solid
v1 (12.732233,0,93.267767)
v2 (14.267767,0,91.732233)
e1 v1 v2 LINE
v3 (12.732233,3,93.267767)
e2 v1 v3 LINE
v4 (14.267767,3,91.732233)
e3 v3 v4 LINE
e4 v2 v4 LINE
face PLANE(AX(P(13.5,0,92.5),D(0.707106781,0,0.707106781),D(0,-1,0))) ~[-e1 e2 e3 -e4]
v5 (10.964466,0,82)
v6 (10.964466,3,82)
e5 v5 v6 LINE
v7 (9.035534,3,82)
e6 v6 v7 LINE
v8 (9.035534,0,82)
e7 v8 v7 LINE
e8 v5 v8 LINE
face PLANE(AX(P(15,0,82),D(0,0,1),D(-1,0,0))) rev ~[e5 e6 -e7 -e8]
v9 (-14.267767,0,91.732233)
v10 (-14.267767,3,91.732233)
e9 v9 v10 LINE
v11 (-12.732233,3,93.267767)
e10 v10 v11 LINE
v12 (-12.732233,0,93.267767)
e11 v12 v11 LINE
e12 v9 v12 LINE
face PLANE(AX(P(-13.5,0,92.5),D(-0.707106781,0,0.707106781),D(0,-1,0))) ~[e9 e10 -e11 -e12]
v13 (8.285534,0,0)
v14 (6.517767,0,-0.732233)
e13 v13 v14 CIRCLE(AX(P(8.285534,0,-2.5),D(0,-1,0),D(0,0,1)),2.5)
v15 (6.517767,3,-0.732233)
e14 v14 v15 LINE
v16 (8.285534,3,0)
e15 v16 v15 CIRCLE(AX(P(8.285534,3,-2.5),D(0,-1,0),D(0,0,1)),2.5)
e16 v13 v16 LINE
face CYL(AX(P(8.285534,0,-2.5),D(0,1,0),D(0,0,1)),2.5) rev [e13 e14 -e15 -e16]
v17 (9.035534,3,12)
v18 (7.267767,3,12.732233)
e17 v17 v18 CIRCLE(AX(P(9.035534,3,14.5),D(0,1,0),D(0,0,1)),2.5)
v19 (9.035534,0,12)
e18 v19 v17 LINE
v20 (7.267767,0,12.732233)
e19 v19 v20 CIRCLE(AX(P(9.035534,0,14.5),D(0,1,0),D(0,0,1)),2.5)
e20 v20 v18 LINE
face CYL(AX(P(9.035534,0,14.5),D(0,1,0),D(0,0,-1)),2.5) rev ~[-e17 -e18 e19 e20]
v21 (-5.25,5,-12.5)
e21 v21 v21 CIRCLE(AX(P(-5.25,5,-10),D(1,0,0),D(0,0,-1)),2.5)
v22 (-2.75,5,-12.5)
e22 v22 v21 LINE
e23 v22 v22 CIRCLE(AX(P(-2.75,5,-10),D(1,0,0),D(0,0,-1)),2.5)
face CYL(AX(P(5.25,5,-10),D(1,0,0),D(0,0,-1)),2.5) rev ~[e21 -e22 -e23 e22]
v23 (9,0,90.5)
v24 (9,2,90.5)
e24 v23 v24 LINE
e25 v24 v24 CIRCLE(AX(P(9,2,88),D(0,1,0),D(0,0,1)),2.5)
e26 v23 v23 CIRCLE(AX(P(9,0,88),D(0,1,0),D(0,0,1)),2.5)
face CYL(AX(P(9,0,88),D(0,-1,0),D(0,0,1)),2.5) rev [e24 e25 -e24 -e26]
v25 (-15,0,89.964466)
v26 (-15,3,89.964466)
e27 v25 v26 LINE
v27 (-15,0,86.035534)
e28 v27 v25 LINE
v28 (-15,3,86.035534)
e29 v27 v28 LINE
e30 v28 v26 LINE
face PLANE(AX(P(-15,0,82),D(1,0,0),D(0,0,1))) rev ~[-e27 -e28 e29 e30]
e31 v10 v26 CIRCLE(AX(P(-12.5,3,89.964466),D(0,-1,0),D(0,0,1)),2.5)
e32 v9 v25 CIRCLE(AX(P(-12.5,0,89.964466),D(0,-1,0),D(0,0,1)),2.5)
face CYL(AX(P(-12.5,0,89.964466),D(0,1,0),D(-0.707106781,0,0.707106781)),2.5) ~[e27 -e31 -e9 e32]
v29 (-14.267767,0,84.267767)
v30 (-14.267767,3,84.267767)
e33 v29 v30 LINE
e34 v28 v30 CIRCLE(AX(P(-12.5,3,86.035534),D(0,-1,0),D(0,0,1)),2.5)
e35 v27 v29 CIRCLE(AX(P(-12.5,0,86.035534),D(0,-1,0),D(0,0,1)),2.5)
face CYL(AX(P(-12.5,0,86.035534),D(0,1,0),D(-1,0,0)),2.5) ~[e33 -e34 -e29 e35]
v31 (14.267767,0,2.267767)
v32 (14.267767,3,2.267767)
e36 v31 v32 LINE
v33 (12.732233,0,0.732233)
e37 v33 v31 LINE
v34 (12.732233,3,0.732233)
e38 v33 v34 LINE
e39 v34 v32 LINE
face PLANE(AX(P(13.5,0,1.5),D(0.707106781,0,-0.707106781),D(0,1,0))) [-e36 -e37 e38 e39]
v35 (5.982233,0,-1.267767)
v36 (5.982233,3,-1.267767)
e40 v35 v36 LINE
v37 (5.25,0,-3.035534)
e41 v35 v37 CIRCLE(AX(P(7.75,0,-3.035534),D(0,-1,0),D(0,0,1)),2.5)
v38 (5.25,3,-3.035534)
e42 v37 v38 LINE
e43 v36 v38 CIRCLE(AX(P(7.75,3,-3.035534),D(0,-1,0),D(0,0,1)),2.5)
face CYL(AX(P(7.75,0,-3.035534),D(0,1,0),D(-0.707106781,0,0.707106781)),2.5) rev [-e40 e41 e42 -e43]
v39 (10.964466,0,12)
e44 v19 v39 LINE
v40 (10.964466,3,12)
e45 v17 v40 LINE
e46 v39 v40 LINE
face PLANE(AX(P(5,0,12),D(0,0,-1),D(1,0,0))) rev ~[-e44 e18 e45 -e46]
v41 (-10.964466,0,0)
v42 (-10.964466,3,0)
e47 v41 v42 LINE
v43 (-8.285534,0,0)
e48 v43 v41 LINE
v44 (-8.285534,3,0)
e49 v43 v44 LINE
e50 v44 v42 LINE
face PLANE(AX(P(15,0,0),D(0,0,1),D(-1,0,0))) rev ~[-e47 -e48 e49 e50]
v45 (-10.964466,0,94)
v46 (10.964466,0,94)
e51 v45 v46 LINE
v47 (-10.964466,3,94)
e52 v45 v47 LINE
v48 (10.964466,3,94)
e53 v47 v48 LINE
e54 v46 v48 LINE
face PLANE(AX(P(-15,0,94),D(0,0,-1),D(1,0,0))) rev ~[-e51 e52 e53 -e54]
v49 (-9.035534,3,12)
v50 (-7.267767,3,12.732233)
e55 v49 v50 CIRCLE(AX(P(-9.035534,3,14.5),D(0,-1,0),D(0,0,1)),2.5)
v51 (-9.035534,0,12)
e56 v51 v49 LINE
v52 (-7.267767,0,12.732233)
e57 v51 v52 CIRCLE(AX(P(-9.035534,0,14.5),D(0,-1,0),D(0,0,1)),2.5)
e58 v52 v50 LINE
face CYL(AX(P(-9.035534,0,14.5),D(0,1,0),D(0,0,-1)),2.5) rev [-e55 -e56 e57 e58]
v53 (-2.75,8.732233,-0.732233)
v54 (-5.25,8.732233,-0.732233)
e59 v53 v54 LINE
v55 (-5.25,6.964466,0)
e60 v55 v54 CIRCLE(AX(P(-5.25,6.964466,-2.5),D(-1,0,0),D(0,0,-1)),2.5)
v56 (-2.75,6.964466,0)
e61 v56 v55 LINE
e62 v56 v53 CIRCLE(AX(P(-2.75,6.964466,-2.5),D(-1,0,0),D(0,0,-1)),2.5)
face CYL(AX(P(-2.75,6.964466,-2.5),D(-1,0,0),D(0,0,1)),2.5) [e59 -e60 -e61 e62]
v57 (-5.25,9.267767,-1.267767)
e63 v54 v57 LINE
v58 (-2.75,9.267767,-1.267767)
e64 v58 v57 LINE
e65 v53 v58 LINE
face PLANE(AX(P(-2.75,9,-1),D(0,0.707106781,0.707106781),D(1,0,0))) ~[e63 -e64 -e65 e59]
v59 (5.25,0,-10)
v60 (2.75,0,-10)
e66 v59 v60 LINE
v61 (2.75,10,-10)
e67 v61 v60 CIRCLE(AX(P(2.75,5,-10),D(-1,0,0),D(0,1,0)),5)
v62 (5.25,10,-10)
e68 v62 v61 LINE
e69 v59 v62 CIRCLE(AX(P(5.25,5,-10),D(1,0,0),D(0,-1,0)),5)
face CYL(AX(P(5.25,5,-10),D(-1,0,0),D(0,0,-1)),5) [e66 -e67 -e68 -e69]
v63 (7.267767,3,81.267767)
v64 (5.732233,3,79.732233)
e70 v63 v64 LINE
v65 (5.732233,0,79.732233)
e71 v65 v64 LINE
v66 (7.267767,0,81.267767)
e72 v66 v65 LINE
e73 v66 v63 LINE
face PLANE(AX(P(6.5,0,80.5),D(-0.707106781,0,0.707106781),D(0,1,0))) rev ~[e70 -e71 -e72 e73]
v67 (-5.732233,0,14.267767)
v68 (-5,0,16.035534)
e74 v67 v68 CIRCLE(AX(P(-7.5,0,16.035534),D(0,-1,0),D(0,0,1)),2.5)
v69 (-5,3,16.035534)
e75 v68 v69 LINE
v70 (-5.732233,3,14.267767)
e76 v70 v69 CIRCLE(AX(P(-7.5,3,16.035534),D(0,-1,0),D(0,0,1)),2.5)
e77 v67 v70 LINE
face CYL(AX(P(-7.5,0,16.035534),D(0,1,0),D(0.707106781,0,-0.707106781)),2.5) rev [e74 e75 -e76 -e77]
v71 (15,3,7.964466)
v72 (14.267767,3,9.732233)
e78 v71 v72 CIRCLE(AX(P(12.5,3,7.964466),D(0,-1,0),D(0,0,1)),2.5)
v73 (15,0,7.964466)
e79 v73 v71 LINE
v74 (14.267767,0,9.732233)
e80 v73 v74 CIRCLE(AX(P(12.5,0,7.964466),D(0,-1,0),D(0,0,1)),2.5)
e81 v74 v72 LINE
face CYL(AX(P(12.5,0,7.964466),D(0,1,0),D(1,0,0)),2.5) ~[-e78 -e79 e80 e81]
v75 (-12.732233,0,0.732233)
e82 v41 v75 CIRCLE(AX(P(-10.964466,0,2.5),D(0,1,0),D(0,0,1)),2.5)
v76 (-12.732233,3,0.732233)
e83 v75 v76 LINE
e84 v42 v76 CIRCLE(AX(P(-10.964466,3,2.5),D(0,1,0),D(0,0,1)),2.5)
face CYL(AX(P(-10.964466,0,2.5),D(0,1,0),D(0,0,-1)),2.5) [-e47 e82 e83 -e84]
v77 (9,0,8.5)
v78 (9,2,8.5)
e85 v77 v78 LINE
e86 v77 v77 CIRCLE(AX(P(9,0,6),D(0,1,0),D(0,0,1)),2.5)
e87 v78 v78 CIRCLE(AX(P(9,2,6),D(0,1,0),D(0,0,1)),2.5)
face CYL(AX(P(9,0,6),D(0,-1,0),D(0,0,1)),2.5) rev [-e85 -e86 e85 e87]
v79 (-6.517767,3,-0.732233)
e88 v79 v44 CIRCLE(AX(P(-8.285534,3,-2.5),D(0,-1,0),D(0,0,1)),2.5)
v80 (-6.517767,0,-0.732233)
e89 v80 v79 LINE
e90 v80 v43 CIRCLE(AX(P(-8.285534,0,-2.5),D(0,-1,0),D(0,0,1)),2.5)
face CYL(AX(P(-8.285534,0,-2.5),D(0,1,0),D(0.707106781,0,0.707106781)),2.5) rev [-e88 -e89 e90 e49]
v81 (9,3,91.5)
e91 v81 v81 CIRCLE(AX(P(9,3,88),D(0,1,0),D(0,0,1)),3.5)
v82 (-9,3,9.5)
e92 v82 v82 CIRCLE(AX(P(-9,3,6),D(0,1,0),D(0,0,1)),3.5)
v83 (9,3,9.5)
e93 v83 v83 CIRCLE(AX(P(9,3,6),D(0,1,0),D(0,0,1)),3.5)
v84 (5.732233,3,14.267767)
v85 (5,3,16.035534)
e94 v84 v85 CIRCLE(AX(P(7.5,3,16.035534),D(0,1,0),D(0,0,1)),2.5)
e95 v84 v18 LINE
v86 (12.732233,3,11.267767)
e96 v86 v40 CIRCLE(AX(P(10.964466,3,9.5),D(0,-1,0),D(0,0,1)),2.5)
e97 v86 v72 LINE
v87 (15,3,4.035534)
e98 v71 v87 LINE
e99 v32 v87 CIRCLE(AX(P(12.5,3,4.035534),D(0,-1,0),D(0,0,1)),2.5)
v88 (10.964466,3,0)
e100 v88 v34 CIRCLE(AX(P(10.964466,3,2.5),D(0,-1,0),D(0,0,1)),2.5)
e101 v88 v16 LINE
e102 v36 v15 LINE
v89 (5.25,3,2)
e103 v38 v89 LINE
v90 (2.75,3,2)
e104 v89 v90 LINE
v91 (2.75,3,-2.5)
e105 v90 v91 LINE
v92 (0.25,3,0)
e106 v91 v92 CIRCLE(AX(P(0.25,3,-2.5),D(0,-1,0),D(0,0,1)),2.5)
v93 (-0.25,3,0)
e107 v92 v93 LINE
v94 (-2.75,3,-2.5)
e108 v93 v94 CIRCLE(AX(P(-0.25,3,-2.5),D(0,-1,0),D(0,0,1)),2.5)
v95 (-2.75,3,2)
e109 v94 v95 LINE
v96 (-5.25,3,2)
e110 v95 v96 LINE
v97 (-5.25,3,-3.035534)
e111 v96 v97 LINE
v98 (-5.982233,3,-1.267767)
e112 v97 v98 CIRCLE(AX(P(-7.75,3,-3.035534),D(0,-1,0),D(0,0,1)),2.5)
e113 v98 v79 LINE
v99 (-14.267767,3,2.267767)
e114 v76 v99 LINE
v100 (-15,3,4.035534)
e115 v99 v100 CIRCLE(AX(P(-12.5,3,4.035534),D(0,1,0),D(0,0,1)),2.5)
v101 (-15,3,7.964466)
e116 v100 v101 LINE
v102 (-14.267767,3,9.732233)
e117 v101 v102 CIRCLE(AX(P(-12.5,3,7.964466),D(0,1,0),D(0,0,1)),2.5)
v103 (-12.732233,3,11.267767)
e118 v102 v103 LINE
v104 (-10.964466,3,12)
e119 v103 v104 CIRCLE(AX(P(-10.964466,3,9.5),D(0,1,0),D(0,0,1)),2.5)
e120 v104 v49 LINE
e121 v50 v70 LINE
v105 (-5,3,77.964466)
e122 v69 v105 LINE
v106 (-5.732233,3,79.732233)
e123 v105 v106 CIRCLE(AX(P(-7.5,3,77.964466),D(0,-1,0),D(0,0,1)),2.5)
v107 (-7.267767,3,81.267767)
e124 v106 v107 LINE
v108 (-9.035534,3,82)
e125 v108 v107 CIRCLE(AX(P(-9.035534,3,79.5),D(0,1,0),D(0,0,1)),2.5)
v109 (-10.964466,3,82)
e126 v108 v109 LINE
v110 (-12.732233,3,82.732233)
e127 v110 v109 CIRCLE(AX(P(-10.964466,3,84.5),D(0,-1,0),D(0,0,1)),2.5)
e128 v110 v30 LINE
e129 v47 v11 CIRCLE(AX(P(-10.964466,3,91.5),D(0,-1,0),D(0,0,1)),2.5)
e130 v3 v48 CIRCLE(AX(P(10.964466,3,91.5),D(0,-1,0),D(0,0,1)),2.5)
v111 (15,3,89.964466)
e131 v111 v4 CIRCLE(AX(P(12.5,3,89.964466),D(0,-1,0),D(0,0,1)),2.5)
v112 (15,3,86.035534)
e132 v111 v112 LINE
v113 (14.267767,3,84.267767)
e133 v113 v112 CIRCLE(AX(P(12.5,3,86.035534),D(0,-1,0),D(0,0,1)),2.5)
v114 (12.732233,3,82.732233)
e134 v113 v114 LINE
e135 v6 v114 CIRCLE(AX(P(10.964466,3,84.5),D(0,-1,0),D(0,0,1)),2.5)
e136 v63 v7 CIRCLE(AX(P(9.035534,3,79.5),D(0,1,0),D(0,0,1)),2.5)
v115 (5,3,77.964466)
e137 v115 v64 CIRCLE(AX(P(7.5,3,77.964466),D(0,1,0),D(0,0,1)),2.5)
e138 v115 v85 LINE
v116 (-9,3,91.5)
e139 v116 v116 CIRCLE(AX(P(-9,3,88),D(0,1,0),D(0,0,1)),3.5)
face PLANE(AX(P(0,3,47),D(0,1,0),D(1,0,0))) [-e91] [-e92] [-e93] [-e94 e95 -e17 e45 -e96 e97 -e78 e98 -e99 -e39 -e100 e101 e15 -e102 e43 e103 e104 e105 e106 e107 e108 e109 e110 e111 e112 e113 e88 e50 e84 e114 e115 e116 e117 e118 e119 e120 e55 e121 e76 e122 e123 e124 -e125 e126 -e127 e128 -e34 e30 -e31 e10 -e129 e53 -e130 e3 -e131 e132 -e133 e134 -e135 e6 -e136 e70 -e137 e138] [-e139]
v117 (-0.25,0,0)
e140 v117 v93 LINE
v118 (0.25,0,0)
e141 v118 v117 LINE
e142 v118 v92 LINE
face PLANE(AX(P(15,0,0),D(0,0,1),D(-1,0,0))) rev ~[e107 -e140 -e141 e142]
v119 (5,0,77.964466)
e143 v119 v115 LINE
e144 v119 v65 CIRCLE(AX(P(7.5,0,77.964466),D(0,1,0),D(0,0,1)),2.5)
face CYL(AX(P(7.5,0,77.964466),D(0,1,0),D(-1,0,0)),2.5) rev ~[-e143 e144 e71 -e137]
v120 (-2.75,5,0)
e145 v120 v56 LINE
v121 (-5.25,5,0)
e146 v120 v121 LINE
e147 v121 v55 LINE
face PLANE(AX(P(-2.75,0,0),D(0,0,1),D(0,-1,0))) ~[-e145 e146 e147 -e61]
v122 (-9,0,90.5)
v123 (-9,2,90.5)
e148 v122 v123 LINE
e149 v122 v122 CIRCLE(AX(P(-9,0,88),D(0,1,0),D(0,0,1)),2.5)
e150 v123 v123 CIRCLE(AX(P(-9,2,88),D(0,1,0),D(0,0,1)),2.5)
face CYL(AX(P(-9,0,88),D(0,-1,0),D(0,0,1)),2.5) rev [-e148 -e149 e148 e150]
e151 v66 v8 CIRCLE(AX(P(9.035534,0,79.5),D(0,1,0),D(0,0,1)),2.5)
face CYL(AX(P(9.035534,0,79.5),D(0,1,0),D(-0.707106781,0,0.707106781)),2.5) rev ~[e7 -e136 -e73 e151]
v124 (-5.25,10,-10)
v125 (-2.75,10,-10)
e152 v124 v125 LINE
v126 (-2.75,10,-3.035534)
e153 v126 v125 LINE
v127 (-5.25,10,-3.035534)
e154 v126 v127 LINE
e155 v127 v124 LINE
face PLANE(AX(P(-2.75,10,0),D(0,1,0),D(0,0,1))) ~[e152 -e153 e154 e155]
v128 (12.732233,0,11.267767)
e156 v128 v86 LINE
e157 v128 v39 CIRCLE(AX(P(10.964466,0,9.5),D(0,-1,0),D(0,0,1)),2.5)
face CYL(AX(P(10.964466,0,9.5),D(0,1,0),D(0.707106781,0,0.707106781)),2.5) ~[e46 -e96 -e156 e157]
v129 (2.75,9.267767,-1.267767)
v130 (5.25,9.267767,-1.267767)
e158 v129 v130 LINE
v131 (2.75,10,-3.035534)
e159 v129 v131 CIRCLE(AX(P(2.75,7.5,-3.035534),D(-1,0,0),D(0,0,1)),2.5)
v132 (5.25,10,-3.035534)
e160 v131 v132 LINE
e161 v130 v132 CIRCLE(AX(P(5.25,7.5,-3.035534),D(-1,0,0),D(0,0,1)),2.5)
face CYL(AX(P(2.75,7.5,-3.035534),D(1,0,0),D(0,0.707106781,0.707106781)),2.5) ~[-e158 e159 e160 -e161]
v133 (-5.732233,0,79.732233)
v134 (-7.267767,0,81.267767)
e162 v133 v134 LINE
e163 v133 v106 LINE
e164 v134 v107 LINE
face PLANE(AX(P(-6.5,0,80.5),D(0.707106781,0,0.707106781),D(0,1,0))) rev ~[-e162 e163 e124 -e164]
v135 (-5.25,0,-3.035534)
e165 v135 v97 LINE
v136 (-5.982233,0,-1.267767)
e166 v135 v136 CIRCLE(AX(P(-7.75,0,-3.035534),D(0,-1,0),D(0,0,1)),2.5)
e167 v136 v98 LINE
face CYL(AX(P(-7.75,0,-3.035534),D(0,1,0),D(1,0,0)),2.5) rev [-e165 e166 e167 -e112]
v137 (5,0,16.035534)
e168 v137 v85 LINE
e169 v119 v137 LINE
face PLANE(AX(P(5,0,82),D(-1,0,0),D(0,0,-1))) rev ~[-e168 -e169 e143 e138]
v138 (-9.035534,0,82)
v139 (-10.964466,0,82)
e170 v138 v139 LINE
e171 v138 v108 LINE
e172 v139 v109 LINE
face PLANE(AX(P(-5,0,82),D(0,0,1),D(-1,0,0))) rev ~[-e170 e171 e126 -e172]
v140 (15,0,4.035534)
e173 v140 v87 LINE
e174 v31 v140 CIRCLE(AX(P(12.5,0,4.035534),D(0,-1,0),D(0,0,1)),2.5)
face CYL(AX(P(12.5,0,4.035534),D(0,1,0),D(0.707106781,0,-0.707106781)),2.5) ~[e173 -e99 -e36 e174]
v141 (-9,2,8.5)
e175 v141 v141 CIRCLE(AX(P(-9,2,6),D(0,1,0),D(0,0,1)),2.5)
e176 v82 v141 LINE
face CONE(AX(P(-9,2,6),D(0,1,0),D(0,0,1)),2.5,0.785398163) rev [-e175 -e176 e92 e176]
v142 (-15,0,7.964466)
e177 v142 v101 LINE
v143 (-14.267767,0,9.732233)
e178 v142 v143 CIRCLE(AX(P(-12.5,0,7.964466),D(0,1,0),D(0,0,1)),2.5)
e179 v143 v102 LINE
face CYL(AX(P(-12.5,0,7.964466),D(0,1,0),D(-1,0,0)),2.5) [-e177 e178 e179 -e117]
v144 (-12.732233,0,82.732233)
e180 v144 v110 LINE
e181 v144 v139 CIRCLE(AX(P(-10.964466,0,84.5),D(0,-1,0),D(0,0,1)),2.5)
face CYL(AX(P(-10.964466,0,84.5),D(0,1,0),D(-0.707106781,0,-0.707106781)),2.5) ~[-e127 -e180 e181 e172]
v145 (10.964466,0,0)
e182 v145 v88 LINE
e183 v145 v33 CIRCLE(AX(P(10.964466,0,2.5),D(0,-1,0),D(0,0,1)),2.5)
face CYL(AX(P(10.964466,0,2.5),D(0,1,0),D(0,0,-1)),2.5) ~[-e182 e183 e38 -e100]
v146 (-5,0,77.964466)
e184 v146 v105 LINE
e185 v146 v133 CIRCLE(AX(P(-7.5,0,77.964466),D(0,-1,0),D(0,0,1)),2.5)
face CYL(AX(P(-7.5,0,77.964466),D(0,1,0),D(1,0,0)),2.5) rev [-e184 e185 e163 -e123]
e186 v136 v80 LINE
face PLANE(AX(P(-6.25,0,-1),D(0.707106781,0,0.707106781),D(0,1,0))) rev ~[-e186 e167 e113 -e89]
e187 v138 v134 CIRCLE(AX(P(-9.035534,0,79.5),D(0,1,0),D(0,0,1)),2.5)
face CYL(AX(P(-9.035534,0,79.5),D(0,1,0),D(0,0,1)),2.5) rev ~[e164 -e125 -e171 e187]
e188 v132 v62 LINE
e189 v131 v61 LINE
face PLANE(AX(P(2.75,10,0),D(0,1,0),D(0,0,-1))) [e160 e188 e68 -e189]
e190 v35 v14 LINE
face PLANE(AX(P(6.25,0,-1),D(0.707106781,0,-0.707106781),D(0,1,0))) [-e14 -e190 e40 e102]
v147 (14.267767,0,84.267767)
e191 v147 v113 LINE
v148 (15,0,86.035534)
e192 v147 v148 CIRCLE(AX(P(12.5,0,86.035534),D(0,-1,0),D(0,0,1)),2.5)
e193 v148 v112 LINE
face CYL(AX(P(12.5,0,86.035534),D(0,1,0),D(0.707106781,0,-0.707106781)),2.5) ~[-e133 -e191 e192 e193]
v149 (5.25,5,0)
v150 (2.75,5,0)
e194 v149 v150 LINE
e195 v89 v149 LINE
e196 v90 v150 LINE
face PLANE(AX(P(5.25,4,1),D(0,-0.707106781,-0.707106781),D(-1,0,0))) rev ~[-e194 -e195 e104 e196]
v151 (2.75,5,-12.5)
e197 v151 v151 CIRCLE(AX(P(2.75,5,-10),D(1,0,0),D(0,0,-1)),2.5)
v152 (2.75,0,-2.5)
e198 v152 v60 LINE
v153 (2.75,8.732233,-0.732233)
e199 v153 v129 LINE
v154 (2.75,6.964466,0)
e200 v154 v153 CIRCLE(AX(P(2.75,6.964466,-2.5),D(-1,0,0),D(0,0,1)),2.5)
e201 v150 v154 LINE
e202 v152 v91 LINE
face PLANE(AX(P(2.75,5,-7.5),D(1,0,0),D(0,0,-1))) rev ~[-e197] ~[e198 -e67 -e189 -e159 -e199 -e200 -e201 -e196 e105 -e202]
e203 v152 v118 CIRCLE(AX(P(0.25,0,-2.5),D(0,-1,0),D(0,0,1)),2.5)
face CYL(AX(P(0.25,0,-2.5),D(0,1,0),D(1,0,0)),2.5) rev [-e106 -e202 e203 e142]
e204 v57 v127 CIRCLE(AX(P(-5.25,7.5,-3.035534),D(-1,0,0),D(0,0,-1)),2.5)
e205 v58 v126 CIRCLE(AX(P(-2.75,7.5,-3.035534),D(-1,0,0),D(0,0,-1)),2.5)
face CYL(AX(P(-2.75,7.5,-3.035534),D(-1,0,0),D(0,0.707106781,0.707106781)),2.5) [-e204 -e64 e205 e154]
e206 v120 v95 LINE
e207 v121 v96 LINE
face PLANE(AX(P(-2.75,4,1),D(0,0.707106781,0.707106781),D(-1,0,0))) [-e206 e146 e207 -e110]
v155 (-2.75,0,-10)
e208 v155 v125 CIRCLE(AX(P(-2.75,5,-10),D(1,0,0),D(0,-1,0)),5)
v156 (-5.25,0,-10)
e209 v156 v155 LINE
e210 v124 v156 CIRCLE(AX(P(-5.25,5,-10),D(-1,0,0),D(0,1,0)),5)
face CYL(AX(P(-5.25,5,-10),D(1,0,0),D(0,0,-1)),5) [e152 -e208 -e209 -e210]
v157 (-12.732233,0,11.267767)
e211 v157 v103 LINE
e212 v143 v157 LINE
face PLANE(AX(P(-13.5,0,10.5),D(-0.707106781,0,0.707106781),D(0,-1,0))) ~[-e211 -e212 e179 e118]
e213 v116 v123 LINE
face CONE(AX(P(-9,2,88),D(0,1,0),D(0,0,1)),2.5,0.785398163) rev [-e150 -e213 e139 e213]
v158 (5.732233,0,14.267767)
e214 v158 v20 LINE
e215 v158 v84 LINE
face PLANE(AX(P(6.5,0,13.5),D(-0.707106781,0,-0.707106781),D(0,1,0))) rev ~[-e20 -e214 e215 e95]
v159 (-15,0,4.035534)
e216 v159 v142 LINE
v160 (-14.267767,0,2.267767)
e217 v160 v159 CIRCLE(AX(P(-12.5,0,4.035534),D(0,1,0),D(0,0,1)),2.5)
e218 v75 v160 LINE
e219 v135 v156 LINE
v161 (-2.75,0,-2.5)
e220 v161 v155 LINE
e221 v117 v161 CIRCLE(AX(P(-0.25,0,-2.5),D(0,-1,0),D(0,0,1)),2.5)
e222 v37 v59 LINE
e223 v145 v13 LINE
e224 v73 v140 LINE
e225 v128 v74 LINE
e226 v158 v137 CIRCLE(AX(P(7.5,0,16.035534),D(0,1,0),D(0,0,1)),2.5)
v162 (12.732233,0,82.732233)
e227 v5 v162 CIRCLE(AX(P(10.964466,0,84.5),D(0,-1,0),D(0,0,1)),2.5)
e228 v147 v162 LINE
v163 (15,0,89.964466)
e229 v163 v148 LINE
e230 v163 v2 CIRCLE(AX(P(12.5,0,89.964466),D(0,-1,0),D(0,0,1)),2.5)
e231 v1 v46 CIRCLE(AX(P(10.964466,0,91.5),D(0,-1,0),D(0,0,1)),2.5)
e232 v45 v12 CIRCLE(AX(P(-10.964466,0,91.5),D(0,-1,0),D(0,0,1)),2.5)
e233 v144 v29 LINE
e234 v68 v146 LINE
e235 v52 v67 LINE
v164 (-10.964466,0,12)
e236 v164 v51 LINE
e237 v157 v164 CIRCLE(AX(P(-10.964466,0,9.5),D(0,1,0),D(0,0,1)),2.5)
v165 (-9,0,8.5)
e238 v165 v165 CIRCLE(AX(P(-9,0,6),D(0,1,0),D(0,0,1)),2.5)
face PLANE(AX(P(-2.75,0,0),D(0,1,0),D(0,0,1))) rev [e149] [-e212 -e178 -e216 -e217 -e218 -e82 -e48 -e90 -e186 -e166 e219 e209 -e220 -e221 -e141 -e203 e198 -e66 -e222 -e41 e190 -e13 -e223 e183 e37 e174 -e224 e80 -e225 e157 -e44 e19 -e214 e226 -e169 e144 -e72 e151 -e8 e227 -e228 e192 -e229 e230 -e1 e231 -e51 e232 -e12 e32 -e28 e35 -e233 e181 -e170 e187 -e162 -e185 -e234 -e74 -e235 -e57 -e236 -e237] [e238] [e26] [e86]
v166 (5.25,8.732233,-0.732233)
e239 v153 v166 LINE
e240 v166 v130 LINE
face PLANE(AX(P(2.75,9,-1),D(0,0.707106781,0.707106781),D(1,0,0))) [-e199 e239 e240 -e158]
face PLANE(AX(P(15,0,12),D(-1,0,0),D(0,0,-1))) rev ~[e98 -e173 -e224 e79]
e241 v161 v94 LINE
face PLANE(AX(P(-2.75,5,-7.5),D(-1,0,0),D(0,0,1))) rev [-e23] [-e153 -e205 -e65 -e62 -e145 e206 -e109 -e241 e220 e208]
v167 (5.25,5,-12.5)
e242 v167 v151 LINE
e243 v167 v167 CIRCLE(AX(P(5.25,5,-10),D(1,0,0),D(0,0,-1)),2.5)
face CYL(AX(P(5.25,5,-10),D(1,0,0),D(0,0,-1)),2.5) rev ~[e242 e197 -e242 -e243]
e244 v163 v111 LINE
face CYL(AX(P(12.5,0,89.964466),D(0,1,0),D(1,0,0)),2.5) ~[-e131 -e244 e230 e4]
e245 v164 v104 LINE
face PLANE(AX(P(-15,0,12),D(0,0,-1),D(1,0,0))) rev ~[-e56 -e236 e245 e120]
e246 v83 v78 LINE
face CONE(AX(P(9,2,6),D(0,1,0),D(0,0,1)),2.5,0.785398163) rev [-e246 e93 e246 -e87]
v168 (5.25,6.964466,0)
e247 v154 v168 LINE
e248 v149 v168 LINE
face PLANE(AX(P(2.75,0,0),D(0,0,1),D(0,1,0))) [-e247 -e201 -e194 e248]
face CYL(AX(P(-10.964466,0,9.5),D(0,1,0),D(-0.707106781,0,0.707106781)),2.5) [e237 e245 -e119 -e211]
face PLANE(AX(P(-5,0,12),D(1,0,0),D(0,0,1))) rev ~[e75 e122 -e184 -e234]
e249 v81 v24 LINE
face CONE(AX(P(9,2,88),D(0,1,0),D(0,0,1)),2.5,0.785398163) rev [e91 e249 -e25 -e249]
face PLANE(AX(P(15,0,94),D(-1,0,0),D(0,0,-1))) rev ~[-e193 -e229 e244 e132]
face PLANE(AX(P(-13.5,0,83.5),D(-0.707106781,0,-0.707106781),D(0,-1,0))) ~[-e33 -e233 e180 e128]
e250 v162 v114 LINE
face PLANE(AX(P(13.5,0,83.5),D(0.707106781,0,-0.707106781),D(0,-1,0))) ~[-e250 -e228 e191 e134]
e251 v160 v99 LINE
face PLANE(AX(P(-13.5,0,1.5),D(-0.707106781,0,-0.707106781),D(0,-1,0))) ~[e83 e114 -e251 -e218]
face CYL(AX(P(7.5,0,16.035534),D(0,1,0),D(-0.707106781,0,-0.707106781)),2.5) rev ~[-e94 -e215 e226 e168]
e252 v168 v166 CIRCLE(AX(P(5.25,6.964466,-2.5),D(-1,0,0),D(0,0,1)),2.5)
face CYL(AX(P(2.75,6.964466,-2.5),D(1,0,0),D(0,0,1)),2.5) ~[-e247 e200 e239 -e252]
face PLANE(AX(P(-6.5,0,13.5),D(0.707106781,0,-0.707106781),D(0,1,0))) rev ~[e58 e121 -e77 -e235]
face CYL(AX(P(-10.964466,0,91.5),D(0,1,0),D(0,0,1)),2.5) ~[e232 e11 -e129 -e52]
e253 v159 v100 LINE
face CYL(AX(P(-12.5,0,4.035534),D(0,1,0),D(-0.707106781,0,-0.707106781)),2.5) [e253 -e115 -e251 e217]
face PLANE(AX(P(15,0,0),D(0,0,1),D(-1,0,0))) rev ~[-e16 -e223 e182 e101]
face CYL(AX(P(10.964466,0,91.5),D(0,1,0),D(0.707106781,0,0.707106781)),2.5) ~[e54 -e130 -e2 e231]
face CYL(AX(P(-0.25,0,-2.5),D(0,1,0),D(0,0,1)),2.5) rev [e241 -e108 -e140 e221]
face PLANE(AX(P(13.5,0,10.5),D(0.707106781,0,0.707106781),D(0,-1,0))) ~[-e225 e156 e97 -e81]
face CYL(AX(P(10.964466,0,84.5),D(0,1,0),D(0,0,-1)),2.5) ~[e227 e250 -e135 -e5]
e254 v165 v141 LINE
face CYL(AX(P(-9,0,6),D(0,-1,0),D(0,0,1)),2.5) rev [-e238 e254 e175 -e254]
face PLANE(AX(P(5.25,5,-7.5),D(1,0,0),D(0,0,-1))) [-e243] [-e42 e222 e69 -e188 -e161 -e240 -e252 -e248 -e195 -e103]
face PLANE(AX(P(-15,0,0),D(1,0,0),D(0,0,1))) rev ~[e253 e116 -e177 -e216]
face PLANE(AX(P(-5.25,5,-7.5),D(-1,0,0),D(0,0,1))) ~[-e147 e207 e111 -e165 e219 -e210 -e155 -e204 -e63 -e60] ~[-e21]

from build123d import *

# Parameters (mm, degrees)
SKETCH2_R                   = 2.5
BOSS_EXTRUDE1_DEPTH         = 3
BOSS_EXTRUDE2_START         = 2.75
SKETCH3_W                   = 15
SKETCH3_H                   = 10
BOSS_EXTRUDE2_DEPTH         = 2.5
FILLET2_RADIUS              = 5
FILLET2_LENGTH              = 2.5
FILLET2_OF_MIRROR1_2_RADIUS = 5
FILLET2_OF_MIRROR1_2_LENGTH = 2.5
CHAMFER1_SIZE               = 2
CHAMFER2_SIZE               = 2
SKETCH5_R                   = 2.5
CUT_EXTRUDE2_DEPTH          = 97.675035557
CHAMFER3_SIZE               = 3
FILLET3_R                   = 2.5
CHAMFER4_SIZE               = 1


with BuildPart() as part:
    # Sketch2 → Boss-Extrude1 (new body)
    with BuildSketch(Plane(origin=(0, 0, 0), x_dir=(1, 0, 0), z_dir=(0, 1, 0))):
        Polygon((15, 0), (-15, 0), (-15, -12), (-5, -12), (-5, -82), (-15, -82), (-15, -94), (15, -94), (15, -82), (5, -82), (5, -12), (15, -12), align=None)
        with Locations(Location((-9, -6, 0), (0, 0, 270))):
            Circle(SKETCH2_R, mode=Mode.SUBTRACT)
        with Locations(Location((-9, -88, 0), (0, 0, 270))):
            Circle(SKETCH2_R, mode=Mode.SUBTRACT)
        with Locations(Location((9, -88, 0), (0, 0, 270))):
            Circle(SKETCH2_R, mode=Mode.SUBTRACT)
        with Locations(Location((9, -6, 0), (0, 0, 270))):
            Circle(SKETCH2_R, mode=Mode.SUBTRACT)
    extrude(amount=BOSS_EXTRUDE1_DEPTH)

    # Sketch3 → Boss-Extrude2 (add)
    with BuildSketch(Plane(origin=(0, 0, 0), x_dir=(0, 0, -1), z_dir=(1, 0, 0)).offset(BOSS_EXTRUDE2_START)):
        with Locations((7.5, 5)):
            Rectangle(SKETCH3_W, SKETCH3_H)
    boss_extrude2 = extrude(amount=BOSS_EXTRUDE2_DEPTH)

    # Fillet2: full round fillet: the end face becomes a half cylinder, R = half its width
    fillet2_face = Plane((4, 5, -15), x_dir=(-1, 0, 0), z_dir=(0, 0, -1))  # on the end face: x along it, z out of the body
    fillet2_slab = fillet2_face.offset(-FILLET2_RADIUS / 2) * Box(FILLET2_LENGTH, 2 * FILLET2_RADIUS, FILLET2_RADIUS, mode=Mode.PRIVATE)  # the body's end, R deep
    fillet2_round = Plane((4, 5, -10), x_dir=(0, 0, -1), z_dir=(-1, 0, 0)) * Cylinder(FILLET2_RADIUS, FILLET2_LENGTH, mode=Mode.PRIVATE)  # its axis R under the face
    add(fillet2_slab - fillet2_round, mode=Mode.SUBTRACT)

    # Mirror1: Boss-Extrude2 across plane
    add(boss_extrude2.mirror(Plane(origin=(0, 0, 0), x_dir=(0, 0, 1), z_dir=(1, 0, 0))))

    # Fillet2 of Mirror1 2: full round fillet: the end face becomes a half cylinder, R = half its width
    fillet2_of_mirror1_2_face = Plane((-4, 5, -15), x_dir=(1, 0, 0), z_dir=(0, 0, -1))  # on the end face: x along it, z out of the body
    fillet2_of_mirror1_2_slab = fillet2_of_mirror1_2_face.offset(-FILLET2_OF_MIRROR1_2_RADIUS / 2) * Box(FILLET2_OF_MIRROR1_2_LENGTH, 2 * FILLET2_OF_MIRROR1_2_RADIUS, FILLET2_OF_MIRROR1_2_RADIUS, mode=Mode.PRIVATE)  # the body's end, R deep
    fillet2_of_mirror1_2_round = Plane((-4, 5, -10), x_dir=(0, 0, -1), z_dir=(1, 0, 0)) * Cylinder(FILLET2_OF_MIRROR1_2_RADIUS, FILLET2_OF_MIRROR1_2_LENGTH, mode=Mode.PRIVATE)  # its axis R under the face
    add(fillet2_of_mirror1_2_slab - fillet2_of_mirror1_2_round, mode=Mode.SUBTRACT)

    # Chamfer1
    chamfer1_edges = [part.edges().sort_by_distance(p)[0] for p in [
        (4, 3, 0),
        (-4, 3, 0),
    ]]
    chamfer(chamfer1_edges, length=CHAMFER1_SIZE)

    # Chamfer2
    chamfer2_edges = [part.edges().sort_by_distance(p)[0] for p in [
        (-5.25, 1.5, 0),
        (5.25, 1.5, 0),
        (4, 10, 0),
        (-4, 10, 0),
    ]]
    chamfer(chamfer2_edges, length=CHAMFER2_SIZE)

    # Sketch5 → Cut-Extrude2 (cut, through all)
    with BuildSketch(Plane(origin=(5.25, 0, 0), x_dir=(0, 0, -1), z_dir=(1, 0, 0))):
        with Locations((10, 5)):
            Circle(SKETCH5_R)
    extrude(amount=-CUT_EXTRUDE2_DEPTH, mode=Mode.SUBTRACT)

    # Chamfer3
    chamfer3_edges = [part.edges().sort_by_distance(p)[0] for p in [
        (15, 1.5, 12),
        (5, 1.5, 12),
        (5, 1.5, 82),
        (15, 1.5, 82),
        (15, 1.5, 94),
        (-15, 1.5, 94),
        (-15, 1.5, 82),
        (-5, 1.5, 82),
        (-5, 1.5, 12),
        (-15, 1.5, 12),
        (-15, 1.5, 0),
        (15, 1.5, 0),
    ]]
    chamfer(chamfer3_edges, length=CHAMFER3_SIZE)

    # Fillet3
    fillet3_edges = [part.edges().sort_by_distance(p)[0] for p in [
        (-15, 1.5, 85),
        (-12, 1.5, 82),
        (-8, 1.5, 82),
        (-5, 1.5, 79),
        (-5, 1.5, 15),
        (-8, 1.5, 12),
        (-12, 1.5, 12),
        (-15, 1.5, 9),
        (-12, 1.5, 0),
        (-7.25, 1.5, 0),
        (-5.25, 1.5, -2),
        (-2.75, 1.5, 0),
        (2.75, 1.5, 0),
        (5.25, 1.5, -2),
        (7.25, 1.5, 0),
        (12, 1.5, 0),
        (15, 1.5, 3),
        (15, 1.5, 9),
        (12, 1.5, 12),
        (8, 1.5, 12),
        (5, 1.5, 15),
        (5, 1.5, 79),
        (8, 1.5, 82),
        (12, 1.5, 82),
        (15, 1.5, 85),
        (15, 1.5, 91),
        (12, 1.5, 94),
        (-12, 1.5, 94),
        (-15, 1.5, 91),
        (-15, 1.5, 3),
        (4, 8, 0),
        (4, 10, -2),
        (-4, 10, -2),
        (-4, 8, 0),
    ]]
    fillet(fillet3_edges, radius=FILLET3_R)

    # Chamfer4
    chamfer4_edges = [part.edges().sort_by_distance(p)[0] for p in [
        (9, 3, 85.5),
        (-9, 3, 85.5),
        (-9, 3, 3.5),
        (9, 3, 3.5),
    ]]
    chamfer(chamfer4_edges, length=CHAMFER4_SIZE)


solid = part.part
